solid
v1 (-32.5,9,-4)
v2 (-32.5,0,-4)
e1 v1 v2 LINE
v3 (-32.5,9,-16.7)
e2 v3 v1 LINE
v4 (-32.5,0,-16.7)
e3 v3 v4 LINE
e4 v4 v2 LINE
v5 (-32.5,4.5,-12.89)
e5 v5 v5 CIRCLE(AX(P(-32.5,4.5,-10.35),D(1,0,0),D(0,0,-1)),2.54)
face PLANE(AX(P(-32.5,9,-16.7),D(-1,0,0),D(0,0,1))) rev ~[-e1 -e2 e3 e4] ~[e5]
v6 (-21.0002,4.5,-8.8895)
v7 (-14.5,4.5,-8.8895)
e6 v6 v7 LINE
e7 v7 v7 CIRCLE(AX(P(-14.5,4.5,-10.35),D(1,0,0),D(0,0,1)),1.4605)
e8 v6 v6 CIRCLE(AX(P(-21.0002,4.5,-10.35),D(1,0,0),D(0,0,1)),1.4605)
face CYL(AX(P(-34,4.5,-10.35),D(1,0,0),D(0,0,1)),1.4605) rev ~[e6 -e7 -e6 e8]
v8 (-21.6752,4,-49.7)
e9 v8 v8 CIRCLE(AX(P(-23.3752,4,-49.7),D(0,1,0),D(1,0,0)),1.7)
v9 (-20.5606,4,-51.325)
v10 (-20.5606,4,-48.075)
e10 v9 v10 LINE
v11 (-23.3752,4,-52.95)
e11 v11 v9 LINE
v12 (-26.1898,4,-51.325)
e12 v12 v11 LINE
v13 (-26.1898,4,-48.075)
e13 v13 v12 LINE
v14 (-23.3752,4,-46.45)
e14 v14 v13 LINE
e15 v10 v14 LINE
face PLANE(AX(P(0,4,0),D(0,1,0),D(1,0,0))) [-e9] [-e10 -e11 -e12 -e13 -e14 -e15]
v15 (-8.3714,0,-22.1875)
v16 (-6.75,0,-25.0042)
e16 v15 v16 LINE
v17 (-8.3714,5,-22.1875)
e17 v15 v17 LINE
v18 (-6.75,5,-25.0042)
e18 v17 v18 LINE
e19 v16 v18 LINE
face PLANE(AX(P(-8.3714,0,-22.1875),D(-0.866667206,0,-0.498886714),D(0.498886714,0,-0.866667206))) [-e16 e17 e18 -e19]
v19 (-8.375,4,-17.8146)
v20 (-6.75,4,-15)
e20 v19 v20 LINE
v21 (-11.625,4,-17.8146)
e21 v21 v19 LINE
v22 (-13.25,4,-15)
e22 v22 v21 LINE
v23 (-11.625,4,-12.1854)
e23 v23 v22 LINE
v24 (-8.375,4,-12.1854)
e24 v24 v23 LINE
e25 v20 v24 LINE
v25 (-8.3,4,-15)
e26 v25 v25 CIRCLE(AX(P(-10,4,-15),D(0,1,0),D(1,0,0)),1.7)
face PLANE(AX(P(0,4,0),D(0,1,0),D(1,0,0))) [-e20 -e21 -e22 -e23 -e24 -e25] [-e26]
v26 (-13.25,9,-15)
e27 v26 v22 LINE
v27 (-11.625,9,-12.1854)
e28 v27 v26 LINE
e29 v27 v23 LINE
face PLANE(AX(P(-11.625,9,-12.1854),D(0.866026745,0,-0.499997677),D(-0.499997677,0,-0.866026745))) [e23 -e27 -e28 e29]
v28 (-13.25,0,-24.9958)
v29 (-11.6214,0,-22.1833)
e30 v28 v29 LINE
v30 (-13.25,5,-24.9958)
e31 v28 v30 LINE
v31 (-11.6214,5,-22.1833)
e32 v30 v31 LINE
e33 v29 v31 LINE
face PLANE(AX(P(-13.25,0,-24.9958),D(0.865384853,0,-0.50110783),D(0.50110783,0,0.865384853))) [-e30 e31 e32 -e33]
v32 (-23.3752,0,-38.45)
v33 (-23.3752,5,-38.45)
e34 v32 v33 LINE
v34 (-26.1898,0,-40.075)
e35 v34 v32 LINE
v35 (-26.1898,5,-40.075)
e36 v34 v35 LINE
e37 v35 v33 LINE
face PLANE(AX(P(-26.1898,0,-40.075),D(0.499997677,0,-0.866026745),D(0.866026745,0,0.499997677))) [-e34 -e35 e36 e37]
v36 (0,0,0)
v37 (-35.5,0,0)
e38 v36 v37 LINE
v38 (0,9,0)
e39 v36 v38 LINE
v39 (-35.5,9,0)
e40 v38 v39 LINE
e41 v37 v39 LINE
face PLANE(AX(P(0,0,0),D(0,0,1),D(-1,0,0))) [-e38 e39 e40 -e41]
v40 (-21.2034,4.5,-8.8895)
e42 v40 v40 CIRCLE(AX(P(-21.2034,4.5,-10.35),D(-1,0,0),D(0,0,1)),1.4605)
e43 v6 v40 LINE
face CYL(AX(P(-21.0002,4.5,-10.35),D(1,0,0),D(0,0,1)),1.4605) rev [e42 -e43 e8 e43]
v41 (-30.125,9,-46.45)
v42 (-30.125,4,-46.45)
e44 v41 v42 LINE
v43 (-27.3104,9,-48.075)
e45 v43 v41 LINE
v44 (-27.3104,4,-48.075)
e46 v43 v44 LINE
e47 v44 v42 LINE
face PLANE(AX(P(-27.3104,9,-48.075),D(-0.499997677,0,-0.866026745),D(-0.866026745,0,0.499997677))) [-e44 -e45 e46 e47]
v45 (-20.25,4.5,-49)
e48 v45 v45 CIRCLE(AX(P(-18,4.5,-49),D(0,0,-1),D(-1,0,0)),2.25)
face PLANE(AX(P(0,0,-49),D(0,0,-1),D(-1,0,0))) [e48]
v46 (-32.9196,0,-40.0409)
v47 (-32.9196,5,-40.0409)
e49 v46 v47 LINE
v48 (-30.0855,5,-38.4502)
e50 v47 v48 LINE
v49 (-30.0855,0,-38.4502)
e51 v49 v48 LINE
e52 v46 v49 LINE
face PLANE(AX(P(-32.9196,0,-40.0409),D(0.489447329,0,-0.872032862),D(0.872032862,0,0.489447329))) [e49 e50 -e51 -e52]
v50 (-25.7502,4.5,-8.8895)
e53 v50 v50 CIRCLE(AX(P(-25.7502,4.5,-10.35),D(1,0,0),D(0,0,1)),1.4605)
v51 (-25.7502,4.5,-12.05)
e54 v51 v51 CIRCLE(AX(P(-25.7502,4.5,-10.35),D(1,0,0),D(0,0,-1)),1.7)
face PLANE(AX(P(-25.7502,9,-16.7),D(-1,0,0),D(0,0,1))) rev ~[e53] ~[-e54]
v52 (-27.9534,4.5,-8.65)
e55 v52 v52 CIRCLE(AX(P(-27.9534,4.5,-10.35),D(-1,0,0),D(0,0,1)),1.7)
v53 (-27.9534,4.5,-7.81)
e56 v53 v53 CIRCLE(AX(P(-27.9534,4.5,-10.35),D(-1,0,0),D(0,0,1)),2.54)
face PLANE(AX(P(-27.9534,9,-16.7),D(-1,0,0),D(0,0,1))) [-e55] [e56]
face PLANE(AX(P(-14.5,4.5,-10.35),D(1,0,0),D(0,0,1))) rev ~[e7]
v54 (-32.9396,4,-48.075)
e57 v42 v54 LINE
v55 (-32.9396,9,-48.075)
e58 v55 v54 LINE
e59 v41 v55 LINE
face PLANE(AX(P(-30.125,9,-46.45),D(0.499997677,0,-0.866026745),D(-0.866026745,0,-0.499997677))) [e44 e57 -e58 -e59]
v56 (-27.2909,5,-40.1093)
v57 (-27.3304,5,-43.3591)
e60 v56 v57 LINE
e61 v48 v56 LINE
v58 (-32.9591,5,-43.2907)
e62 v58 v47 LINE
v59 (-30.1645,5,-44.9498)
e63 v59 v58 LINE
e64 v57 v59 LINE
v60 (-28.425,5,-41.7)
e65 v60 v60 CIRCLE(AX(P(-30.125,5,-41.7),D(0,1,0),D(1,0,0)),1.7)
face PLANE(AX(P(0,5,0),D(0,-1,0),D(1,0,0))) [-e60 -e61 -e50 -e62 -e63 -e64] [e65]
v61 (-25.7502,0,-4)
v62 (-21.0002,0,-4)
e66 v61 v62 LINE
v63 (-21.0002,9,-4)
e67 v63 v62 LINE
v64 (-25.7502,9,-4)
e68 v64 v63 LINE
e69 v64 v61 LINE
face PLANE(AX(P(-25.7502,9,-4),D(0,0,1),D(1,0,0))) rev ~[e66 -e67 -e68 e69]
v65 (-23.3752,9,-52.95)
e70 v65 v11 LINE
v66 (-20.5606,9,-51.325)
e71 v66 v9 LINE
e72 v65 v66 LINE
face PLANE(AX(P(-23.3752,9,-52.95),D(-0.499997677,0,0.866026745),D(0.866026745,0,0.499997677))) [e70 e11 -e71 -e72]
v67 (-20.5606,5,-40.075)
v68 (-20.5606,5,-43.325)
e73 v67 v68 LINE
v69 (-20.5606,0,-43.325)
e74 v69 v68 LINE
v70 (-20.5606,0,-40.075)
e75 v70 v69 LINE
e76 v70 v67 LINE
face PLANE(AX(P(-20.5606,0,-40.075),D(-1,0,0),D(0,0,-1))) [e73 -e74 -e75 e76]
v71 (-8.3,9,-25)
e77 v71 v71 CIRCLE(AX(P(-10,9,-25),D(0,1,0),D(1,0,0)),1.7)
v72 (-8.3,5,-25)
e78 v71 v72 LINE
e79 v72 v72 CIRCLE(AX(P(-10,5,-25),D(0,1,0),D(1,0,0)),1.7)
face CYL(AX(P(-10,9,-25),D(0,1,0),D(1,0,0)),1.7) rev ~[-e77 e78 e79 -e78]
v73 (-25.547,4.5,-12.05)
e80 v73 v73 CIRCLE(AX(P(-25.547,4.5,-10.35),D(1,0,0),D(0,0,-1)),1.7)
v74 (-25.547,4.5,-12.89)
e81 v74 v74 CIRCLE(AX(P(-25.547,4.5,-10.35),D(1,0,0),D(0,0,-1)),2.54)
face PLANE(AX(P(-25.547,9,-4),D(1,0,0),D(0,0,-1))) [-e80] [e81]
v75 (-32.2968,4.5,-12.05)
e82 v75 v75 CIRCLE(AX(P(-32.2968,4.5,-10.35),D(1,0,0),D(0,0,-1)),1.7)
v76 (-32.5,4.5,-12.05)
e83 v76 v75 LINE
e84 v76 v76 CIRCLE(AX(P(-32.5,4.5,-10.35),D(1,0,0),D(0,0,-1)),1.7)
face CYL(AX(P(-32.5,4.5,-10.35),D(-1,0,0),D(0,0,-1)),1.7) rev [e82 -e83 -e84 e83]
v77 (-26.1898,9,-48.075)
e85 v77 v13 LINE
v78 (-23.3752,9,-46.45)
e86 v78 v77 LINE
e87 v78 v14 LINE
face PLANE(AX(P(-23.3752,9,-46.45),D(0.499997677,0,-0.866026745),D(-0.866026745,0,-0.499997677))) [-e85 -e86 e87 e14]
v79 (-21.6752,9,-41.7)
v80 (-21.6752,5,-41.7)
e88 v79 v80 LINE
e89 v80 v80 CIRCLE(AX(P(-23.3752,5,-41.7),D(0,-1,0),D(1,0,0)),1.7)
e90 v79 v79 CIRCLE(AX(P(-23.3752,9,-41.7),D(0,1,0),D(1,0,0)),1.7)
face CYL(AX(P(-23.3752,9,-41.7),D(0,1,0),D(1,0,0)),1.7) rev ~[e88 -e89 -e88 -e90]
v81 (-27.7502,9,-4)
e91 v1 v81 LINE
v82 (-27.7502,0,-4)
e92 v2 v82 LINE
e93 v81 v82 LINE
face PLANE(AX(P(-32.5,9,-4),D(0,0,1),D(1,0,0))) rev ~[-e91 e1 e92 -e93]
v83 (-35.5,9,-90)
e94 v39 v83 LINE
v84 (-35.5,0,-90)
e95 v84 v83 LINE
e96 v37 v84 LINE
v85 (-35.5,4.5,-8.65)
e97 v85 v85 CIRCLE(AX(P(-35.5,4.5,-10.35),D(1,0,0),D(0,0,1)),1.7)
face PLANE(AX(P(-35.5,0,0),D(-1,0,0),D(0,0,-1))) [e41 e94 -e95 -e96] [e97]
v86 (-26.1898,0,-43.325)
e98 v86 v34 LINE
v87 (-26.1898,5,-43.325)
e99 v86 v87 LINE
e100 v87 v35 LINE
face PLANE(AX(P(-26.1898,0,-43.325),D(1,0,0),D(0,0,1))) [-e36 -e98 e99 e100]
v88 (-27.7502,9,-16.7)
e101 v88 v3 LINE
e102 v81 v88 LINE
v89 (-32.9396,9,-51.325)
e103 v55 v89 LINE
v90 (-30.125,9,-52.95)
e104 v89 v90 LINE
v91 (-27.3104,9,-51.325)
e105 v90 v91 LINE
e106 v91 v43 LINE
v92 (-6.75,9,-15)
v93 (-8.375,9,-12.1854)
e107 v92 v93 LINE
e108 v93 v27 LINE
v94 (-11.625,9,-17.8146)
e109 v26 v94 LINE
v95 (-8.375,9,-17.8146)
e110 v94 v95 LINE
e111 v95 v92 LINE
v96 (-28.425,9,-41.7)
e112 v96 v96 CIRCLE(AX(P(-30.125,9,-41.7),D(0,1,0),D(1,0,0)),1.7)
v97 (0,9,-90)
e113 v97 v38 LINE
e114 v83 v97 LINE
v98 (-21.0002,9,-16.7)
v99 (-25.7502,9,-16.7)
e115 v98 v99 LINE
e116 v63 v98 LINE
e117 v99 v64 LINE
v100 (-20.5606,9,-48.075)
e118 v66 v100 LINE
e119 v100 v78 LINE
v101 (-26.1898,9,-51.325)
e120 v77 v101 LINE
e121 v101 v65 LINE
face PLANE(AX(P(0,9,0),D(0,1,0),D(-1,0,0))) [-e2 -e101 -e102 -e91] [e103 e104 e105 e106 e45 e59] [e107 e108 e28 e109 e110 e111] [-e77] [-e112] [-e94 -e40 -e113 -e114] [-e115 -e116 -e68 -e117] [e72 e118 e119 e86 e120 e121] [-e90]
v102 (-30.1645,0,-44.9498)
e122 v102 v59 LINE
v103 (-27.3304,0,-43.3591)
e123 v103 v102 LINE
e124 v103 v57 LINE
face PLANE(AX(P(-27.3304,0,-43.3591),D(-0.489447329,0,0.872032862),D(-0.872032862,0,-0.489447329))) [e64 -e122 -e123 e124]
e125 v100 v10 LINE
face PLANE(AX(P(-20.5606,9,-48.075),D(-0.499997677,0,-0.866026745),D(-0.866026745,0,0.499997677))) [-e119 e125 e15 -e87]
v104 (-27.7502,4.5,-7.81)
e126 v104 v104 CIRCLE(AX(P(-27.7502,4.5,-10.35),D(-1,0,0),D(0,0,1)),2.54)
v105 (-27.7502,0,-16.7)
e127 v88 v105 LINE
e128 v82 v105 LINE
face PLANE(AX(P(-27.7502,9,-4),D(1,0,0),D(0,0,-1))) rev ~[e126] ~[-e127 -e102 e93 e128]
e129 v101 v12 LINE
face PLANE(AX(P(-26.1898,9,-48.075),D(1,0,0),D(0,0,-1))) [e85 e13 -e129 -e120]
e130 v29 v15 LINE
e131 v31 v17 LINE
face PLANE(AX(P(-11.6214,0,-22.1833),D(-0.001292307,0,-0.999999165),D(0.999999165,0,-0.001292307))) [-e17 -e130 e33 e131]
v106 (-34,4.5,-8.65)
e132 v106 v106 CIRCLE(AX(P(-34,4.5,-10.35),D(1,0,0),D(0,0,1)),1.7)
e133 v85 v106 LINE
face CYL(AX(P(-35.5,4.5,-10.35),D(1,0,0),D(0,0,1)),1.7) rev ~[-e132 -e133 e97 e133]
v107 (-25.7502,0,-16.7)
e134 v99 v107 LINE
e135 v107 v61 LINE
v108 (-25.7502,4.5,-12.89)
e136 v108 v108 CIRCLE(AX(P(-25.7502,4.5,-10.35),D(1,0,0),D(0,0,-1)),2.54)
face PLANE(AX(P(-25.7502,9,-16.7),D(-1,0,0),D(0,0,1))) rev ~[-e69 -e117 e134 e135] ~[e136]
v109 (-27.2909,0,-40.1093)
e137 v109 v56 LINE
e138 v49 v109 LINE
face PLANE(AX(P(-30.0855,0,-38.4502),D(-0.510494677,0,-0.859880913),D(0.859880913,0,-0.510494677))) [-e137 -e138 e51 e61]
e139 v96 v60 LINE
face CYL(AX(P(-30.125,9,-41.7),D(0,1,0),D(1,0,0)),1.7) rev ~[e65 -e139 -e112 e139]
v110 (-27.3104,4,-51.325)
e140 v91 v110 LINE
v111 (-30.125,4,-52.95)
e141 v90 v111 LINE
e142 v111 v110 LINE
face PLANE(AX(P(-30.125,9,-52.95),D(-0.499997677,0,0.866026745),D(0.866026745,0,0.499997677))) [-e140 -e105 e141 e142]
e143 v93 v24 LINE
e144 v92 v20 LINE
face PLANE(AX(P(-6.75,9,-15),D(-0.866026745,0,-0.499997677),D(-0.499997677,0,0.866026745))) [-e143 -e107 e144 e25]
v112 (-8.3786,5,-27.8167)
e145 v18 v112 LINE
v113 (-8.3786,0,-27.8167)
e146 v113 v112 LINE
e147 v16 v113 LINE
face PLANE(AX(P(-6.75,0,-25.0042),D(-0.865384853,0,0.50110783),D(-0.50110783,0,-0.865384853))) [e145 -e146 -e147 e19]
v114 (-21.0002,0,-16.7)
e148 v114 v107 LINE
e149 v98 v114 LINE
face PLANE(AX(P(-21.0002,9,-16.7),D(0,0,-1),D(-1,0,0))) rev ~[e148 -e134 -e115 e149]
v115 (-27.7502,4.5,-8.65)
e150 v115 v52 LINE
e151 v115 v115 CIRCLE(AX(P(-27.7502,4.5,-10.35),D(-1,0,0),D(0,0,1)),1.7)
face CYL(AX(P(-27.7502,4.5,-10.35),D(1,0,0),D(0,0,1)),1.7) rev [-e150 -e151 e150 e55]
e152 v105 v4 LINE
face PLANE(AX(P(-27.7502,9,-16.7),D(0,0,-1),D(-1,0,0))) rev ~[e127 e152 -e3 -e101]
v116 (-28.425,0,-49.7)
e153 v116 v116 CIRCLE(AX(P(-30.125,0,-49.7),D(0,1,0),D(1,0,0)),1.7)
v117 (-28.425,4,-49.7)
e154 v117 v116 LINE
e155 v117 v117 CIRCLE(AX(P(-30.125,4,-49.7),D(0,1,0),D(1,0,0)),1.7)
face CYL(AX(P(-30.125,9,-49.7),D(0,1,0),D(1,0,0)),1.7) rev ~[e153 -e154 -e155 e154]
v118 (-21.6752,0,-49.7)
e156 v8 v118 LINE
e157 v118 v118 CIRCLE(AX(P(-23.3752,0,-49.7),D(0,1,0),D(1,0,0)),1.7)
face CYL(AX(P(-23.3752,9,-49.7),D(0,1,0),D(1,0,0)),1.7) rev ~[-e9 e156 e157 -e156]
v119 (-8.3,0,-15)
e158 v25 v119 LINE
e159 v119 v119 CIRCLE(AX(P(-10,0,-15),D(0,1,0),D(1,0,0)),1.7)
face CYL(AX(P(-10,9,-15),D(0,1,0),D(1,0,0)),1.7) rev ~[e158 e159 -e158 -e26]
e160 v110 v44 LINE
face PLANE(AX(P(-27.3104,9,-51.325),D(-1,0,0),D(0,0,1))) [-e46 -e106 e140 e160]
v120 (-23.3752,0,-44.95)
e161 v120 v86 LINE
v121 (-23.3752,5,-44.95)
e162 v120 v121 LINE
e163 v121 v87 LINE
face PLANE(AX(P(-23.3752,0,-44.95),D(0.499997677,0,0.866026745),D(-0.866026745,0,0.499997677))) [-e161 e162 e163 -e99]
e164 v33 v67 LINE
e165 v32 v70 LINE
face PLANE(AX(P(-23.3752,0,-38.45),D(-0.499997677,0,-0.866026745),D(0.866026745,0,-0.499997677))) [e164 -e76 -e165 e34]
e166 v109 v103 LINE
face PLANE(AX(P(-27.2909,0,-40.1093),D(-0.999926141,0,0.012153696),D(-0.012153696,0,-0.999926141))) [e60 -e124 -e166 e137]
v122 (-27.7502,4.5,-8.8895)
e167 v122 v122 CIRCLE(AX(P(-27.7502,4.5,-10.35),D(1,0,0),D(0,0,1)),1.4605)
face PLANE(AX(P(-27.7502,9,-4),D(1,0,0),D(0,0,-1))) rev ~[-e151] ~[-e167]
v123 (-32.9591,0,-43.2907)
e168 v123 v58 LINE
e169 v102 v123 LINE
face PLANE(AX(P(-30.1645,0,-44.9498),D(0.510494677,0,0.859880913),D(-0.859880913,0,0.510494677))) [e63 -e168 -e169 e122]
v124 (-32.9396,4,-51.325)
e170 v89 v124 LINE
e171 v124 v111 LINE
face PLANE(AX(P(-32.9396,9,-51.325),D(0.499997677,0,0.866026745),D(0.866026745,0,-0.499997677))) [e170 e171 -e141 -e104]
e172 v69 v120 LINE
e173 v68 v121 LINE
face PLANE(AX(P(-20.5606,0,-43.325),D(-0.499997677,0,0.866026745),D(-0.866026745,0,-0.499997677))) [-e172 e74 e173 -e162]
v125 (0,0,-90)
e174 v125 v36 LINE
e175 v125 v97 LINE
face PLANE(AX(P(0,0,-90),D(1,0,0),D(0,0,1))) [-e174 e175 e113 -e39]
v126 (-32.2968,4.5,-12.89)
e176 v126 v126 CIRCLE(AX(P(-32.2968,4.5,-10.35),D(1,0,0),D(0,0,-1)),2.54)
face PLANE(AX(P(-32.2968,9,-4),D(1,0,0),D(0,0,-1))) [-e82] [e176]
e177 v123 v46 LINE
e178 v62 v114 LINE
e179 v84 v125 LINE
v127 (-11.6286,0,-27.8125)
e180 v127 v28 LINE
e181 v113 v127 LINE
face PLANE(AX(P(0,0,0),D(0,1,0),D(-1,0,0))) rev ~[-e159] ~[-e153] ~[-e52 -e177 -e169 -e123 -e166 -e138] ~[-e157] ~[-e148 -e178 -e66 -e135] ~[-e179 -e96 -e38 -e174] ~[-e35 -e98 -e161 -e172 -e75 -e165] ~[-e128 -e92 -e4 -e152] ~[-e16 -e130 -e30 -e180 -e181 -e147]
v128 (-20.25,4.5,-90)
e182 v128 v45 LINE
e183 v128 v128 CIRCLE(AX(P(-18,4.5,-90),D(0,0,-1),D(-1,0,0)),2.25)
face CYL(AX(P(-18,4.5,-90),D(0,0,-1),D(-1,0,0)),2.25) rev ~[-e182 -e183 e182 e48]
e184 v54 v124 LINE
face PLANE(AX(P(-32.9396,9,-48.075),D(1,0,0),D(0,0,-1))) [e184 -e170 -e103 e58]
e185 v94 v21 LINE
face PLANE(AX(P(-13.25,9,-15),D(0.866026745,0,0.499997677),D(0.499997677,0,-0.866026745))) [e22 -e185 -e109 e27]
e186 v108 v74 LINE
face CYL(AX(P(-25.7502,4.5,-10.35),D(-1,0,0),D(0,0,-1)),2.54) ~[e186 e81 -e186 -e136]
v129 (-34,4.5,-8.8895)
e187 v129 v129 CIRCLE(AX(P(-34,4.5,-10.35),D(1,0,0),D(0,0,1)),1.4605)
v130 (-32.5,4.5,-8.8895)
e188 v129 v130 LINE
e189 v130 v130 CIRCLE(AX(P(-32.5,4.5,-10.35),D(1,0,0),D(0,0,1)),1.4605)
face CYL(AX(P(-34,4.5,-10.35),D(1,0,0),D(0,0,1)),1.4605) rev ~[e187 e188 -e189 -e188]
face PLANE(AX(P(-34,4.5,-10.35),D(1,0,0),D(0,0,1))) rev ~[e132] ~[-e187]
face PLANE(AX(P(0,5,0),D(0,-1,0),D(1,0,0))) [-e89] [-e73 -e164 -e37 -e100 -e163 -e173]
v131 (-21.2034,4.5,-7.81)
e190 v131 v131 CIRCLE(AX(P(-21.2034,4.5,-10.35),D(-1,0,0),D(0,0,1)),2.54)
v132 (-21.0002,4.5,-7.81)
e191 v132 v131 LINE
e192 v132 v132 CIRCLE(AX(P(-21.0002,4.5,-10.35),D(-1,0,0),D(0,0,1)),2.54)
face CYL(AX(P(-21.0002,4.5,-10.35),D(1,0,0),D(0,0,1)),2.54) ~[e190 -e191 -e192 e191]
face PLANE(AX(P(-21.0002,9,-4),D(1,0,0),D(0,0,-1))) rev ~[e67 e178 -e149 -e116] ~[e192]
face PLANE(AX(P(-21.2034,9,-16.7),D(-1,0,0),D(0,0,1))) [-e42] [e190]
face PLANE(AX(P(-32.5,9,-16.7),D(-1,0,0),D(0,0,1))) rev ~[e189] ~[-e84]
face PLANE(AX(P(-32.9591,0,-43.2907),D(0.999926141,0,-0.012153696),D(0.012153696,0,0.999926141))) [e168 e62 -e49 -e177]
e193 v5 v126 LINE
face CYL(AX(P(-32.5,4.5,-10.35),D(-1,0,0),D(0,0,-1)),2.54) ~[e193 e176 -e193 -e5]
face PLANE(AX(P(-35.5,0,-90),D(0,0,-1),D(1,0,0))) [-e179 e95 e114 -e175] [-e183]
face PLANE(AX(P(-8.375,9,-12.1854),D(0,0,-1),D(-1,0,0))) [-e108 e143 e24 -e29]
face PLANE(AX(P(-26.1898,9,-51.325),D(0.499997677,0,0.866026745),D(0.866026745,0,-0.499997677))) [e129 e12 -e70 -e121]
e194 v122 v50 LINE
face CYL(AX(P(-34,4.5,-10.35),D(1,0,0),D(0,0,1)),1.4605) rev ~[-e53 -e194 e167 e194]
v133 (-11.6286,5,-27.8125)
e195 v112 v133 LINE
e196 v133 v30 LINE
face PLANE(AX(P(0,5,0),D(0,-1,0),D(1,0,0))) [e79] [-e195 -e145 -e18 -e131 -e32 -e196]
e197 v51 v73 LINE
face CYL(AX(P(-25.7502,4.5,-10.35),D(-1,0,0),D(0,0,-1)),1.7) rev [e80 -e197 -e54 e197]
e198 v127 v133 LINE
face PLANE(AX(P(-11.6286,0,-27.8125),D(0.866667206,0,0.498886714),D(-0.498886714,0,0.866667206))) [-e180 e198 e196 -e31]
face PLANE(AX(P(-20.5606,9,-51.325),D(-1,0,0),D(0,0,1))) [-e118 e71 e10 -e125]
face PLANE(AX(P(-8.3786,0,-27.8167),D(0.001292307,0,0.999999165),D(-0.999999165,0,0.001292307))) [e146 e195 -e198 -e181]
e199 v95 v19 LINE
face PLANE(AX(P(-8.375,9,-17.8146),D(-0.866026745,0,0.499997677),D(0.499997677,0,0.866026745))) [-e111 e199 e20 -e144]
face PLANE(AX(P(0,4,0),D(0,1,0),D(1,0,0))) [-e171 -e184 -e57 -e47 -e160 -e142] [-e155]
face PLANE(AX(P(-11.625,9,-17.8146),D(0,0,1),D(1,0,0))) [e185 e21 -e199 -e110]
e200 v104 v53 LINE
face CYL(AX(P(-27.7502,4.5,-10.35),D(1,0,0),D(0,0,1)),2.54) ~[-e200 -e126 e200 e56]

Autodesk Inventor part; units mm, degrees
sketch "Sketch1" plane through (0, 0, 0) normal (0, 1, 0) x (-1, 0, 0)
  line L0 (0, 0) -> (35.5, 0)
  line L1 (35.5, 0) -> (35.5, -90)
  line L2 (35.5, -90) -> (0, -90)
  line L3 (0, -90) -> (0, 0)
  dimension "d0" = 35.5
  dimension "d1" = 90
extrude "Extrusion1" add sketch "Sketch1" along normal blind 9
sketch "Sketch2" plane through (0, 9, 0) normal (0, 1, 0) x (1, 0, 0)
  circle A0 centre (-10, 15) radius 3.25 construction
  line L0 (-35.5, 0) -> (0, 0) projected
  line L1 (0, 0) -> (0, 90) projected
  line L2 (-13.25, 15) -> (-11.625, 17.8146)
  line L3 (-11.625, 17.8146) -> (-8.375, 17.8146)
  line L4 (-8.375, 17.8146) -> (-6.75, 15)
  line L5 (-6.75, 15) -> (-8.375, 12.1854)
  line L6 (-8.375, 12.1854) -> (-11.625, 12.1854)
  line L7 (-11.625, 12.1854) -> (-13.25, 15)
  line L8 (0, 90) -> (-35.5, 90) projected
  circle A1 centre (-10, 15) radius 1.7 construction
  dimension "d7" = 6.5
  dimension "d24" = 15
  dimension "d25" = 10
  dimension "d28" = 3.4
extrude "Extrusion2" cut sketch "Sketch2" against normal blind 5
sketch "Sketch3" plane through (0, 0, 0) normal (0, -1, 0) x (1, 0, 0)
  circle A0 centre (-10, -25) radius 3.25 construction
  line L0 (0, 0) -> (-35.5, 0) projected
  line L1 (-35.5, 0) -> (-35.5, -90) projected
  line L2 (-11.6286, -27.8125) -> (-13.25, -24.9958)
  line L3 (-13.25, -24.9958) -> (-11.6214, -22.1833)
  line L4 (-11.6214, -22.1833) -> (-8.3714, -22.1875)
  line L5 (-8.3714, -22.1875) -> (-6.75, -25.0042)
  line L6 (-6.75, -25.0042) -> (-8.3786, -27.8167)
  line L7 (-8.3786, -27.8167) -> (-11.6286, -27.8125)
  line L8 (0, -90) -> (0, 0) projected
  dimension "d15" = 6.5
  dimension "d16" = 25
  dimension "d26" = 10
extrude "Extrusion3" cut sketch "Sketch3" against normal blind 5
sketch "Sketch5" plane through (0, 9, 0) normal (0, 1, 0) x (1, 0, 0)
  circle A0 centre (-10, 15) radius 1.7
  line L0 (0, 0) -> (0, 90) projected
  line L1 (-35.5, 0) -> (0, 0) projected
  circle A1 centre (-10, 25) radius 1.7
  dimension "d30" = 3.4
  dimension "d31" = 10
  dimension "d32" = 15
  dimension "d36" = 3.4
  dimension "d37" = 25
extrude "Extrusion4" cut sketch "Sketch5" against normal through all
sketch "Sketch6" plane through (0, 9, 0) normal (0, 1, 0) x (1, 0, 0)
  line L0 (-32.5, 4) -> (-27.7502, 4)
  line L1 (-27.7502, 4) -> (-27.7502, 16.7)
  line L2 (-27.7502, 16.7) -> (-32.5, 16.7)
  line L3 (-32.5, 16.7) -> (-32.5, 4)
  line L4 (-35.5, 0) -> (0, 0) projected
  line L5 (-35.5, 90) -> (-35.5, 0) projected
  line L6 (-25.7502, 4) -> (-21.0002, 4)
  line L7 (-21.0002, 4) -> (-21.0002, 16.7)
  line L8 (-21.0002, 16.7) -> (-25.7502, 16.7)
  line L9 (-25.7502, 16.7) -> (-25.7502, 4)
  line L10 (0, 0) -> (0, 90) construction
  line L11 (-35.5, 90) -> (0, 90) projected
  line L12 (0, 0) -> (-20, 0) construction
  line L13 (-20, 0) -> (-20, 90) construction
  line L14 (-20, 90) -> (0, 90) construction
  line L15 (0, 90) -> (0, 0)
  circle A0 centre (-23.3752, 41.7) radius 1.7
  circle A1 centre (-30.125, 41.7) radius 1.7
  circle A2 centre (-30.125, 49.7) radius 1.7
  circle A3 centre (-23.3752, 49.7) radius 1.7
  dimension "d43" = 4.7498
  dimension "d44" = 12.7
  dimension "d45" = 4
  dimension "d46" = 3
  dimension "d47" = 4.75
  dimension "d48" = 2
  dimension "d49" = 20
  dimension "d50" = 3.4
  dimension "d51" = 25
  dimension "d90" = 3.4
  dimension "d91" = 5.375
  dimension "d92" = 3.4
  dimension "d93" = 8
  dimension "d94" = 3.4
extrude "Extrusion5" cut sketch "Sketch6" against normal through all contours L3 L2 L1 L0 | L9 L8 L7 L6 | A0 | A1 | A2 | A3
sketch "Sketch7" plane through (0, 0, 0) normal (0, -1, 0) x (1, 0, 0)
  circle A0 centre (-23.3752, -41.7) radius 1.7 projected
  circle A1 centre (-23.3752, -41.7) radius 3.25 construction
  line L0 (-23.3752, -38.45) -> (-20.5606, -40.075)
  line L1 (-20.5606, -40.075) -> (-20.5606, -43.325)
  line L2 (-20.5606, -43.325) -> (-23.3752, -44.95)
  line L3 (-23.3752, -44.95) -> (-26.1898, -43.325)
  line L4 (-26.1898, -43.325) -> (-26.1898, -40.075)
  line L5 (-26.1898, -40.075) -> (-23.3752, -38.45)
  line L6 (0, 0) -> (-35.5, 0) projected
  circle A2 centre (-30.125, -41.7) radius 3.25 construction
  line L7 (-35.5, 0) -> (-35.5, -90) projected
  line L8 (-30.1645, -44.9498) -> (-32.9591, -43.2907)
  line L9 (-32.9591, -43.2907) -> (-32.9196, -40.0409)
  line L10 (-32.9196, -40.0409) -> (-30.0855, -38.4502)
  line L11 (-30.0855, -38.4502) -> (-27.2909, -40.1093)
  line L12 (-27.2909, -40.1093) -> (-27.3304, -43.3591)
  line L13 (-27.3304, -43.3591) -> (-30.1645, -44.9498)
  dimension "d88" = 6.5
  dimension "d54" = 6.5
  dimension "d87" = 41.7
  dimension "d89" = 5.375
extrude "Extrusion6" cut sketch "Sketch7" against normal blind 5
sketch "Sketch8" plane through (-35.5, 0, -90) normal (-1, 0, 0) x (0, 0, 1)
  circle A0 centre (79.65, 4.5) radius 1.4605
  line L0 (0, 9) -> (90, 9) projected
  line L1 (90, 0) -> (90, 9) projected
  dimension "d57" = 2.921
  dimension "d58" = 4.5
  dimension "d59" = 10.35
hole "Hole1" at (-35.5, 4.5, -10.35) direction (1, 0, 0) diameter 2.921 depth 21 counterbore diameter 3.4 counterbore depth 1.5
sketch "Sketch9" plane through (-21.0002, 9, -16.7) normal (-1, 0, 0) x (0, 0, 1)
  circle A0 centre (6.35, -4.5) radius 1.4605 projected
  circle A1 centre (6.35, -4.5) radius 2.54
  point P0 (16.7, -9)
  dimension "d67" = 5.08
extrude "Extrusion7" add sketch "Sketch9" along normal blind 0.2032
sketch "Sketch10" plane through (-27.7502, 9, -16.7) normal (-1, 0, 0) x (0, 0, 1)
  circle A0 centre (6.35, -4.5) radius 1.7 projected
  circle A1 centre (6.35, -4.5) radius 2.54
  point P0 (16.7, -9)
  dimension "d70" = 5.08
extrude "Extrusion8" add sketch "Sketch10" along normal blind 0.2032
sketch "Sketch11" plane through (-25.7502, 9, -4) normal (1, 0, 0) x (0, 0, -1)
  circle A0 centre (6.35, -4.5) radius 1.7 projected
  circle A1 centre (6.35, -4.5) radius 2.54
  point P0 (-4, -9)
  dimension "d73" = 5.08
extrude "Extrusion9" add sketch "Sketch11" along normal blind 0.2032
sketch "Sketch12" plane through (-32.5, 9, -4) normal (1, 0, 0) x (0, 0, -1)
  circle A0 centre (6.35, -4.5) radius 1.7 projected
  circle A1 centre (6.35, -4.5) radius 2.54
  point P0 (-4, -9)
  dimension "d76" = 5.08
extrude "Extrusion10" add sketch "Sketch12" along normal blind 0.2032
sketch "Sketch14" plane through (0, 0, -90) normal (0, 0, -1) x (-1, 0, 0)
  circle A0 centre (18, 4.5) radius 2.25
  line L0 (35.5, 0) -> (0, 0) projected
  line L1 (0, 0) -> (0, 9) projected
  dimension "d82" = 4.5
  dimension "d83" = 4.5
  dimension "d84" = 18
extrude "Extrusion11" cut sketch "Sketch14" against normal blind 41
sketch "Sketch15" plane through (0, 9, 0) normal (0, 1, 0) x (1, 0, 0)
  circle A0 centre (-30.125, 49.7) radius 1.7 projected
  circle A1 centre (-30.125, 49.7) radius 3.25 construction
  circle A2 centre (-23.3752, 49.7) radius 1.7 projected
  circle A3 centre (-23.3752, 49.7) radius 3.25 construction
  line L0 (-30.125, 52.95) -> (-27.3104, 51.325)
  line L1 (-27.3104, 51.325) -> (-27.3104, 48.075)
  line L2 (-27.3104, 48.075) -> (-30.125, 46.45)
  line L3 (-30.125, 46.45) -> (-32.9396, 48.075)
  line L4 (-32.9396, 48.075) -> (-32.9396, 51.325)
  line L5 (-32.9396, 51.325) -> (-30.125, 52.95)
  line L6 (-23.3752, 52.95) -> (-20.5606, 51.325)
  line L7 (-20.5606, 51.325) -> (-20.5606, 48.075)
  line L8 (-20.5606, 48.075) -> (-23.3752, 46.45)
  line L9 (-23.3752, 46.45) -> (-26.1898, 48.075)
  line L10 (-26.1898, 48.075) -> (-26.1898, 51.325)
  line L11 (-26.1898, 51.325) -> (-23.3752, 52.95)
  point P0 (0, 0)
  dimension "d95" = 6.5
  dimension "d96" = 6.5
extrude "Extrusion12" cut sketch "Sketch15" against normal blind 5
ref_plane "Work Plane1" through (-30.1251, 9, -4) normal (1, 0, 0) x (0, 0, -1)
ref_plane "Work Plane2" through (-23.3752, 9, -4) normal (1, 0, 0) x (0, 0, -1)
ref_plane "Work Plane3" through (-30.1251, 9, -4) normal (1, 0, 0) x (0, 0, -1)
ref_plane "Work Plane4" through (-23.3752, 9, -4) normal (1, 0, 0) x (0, 0, -1)
properties part number "Bottom coupler"
